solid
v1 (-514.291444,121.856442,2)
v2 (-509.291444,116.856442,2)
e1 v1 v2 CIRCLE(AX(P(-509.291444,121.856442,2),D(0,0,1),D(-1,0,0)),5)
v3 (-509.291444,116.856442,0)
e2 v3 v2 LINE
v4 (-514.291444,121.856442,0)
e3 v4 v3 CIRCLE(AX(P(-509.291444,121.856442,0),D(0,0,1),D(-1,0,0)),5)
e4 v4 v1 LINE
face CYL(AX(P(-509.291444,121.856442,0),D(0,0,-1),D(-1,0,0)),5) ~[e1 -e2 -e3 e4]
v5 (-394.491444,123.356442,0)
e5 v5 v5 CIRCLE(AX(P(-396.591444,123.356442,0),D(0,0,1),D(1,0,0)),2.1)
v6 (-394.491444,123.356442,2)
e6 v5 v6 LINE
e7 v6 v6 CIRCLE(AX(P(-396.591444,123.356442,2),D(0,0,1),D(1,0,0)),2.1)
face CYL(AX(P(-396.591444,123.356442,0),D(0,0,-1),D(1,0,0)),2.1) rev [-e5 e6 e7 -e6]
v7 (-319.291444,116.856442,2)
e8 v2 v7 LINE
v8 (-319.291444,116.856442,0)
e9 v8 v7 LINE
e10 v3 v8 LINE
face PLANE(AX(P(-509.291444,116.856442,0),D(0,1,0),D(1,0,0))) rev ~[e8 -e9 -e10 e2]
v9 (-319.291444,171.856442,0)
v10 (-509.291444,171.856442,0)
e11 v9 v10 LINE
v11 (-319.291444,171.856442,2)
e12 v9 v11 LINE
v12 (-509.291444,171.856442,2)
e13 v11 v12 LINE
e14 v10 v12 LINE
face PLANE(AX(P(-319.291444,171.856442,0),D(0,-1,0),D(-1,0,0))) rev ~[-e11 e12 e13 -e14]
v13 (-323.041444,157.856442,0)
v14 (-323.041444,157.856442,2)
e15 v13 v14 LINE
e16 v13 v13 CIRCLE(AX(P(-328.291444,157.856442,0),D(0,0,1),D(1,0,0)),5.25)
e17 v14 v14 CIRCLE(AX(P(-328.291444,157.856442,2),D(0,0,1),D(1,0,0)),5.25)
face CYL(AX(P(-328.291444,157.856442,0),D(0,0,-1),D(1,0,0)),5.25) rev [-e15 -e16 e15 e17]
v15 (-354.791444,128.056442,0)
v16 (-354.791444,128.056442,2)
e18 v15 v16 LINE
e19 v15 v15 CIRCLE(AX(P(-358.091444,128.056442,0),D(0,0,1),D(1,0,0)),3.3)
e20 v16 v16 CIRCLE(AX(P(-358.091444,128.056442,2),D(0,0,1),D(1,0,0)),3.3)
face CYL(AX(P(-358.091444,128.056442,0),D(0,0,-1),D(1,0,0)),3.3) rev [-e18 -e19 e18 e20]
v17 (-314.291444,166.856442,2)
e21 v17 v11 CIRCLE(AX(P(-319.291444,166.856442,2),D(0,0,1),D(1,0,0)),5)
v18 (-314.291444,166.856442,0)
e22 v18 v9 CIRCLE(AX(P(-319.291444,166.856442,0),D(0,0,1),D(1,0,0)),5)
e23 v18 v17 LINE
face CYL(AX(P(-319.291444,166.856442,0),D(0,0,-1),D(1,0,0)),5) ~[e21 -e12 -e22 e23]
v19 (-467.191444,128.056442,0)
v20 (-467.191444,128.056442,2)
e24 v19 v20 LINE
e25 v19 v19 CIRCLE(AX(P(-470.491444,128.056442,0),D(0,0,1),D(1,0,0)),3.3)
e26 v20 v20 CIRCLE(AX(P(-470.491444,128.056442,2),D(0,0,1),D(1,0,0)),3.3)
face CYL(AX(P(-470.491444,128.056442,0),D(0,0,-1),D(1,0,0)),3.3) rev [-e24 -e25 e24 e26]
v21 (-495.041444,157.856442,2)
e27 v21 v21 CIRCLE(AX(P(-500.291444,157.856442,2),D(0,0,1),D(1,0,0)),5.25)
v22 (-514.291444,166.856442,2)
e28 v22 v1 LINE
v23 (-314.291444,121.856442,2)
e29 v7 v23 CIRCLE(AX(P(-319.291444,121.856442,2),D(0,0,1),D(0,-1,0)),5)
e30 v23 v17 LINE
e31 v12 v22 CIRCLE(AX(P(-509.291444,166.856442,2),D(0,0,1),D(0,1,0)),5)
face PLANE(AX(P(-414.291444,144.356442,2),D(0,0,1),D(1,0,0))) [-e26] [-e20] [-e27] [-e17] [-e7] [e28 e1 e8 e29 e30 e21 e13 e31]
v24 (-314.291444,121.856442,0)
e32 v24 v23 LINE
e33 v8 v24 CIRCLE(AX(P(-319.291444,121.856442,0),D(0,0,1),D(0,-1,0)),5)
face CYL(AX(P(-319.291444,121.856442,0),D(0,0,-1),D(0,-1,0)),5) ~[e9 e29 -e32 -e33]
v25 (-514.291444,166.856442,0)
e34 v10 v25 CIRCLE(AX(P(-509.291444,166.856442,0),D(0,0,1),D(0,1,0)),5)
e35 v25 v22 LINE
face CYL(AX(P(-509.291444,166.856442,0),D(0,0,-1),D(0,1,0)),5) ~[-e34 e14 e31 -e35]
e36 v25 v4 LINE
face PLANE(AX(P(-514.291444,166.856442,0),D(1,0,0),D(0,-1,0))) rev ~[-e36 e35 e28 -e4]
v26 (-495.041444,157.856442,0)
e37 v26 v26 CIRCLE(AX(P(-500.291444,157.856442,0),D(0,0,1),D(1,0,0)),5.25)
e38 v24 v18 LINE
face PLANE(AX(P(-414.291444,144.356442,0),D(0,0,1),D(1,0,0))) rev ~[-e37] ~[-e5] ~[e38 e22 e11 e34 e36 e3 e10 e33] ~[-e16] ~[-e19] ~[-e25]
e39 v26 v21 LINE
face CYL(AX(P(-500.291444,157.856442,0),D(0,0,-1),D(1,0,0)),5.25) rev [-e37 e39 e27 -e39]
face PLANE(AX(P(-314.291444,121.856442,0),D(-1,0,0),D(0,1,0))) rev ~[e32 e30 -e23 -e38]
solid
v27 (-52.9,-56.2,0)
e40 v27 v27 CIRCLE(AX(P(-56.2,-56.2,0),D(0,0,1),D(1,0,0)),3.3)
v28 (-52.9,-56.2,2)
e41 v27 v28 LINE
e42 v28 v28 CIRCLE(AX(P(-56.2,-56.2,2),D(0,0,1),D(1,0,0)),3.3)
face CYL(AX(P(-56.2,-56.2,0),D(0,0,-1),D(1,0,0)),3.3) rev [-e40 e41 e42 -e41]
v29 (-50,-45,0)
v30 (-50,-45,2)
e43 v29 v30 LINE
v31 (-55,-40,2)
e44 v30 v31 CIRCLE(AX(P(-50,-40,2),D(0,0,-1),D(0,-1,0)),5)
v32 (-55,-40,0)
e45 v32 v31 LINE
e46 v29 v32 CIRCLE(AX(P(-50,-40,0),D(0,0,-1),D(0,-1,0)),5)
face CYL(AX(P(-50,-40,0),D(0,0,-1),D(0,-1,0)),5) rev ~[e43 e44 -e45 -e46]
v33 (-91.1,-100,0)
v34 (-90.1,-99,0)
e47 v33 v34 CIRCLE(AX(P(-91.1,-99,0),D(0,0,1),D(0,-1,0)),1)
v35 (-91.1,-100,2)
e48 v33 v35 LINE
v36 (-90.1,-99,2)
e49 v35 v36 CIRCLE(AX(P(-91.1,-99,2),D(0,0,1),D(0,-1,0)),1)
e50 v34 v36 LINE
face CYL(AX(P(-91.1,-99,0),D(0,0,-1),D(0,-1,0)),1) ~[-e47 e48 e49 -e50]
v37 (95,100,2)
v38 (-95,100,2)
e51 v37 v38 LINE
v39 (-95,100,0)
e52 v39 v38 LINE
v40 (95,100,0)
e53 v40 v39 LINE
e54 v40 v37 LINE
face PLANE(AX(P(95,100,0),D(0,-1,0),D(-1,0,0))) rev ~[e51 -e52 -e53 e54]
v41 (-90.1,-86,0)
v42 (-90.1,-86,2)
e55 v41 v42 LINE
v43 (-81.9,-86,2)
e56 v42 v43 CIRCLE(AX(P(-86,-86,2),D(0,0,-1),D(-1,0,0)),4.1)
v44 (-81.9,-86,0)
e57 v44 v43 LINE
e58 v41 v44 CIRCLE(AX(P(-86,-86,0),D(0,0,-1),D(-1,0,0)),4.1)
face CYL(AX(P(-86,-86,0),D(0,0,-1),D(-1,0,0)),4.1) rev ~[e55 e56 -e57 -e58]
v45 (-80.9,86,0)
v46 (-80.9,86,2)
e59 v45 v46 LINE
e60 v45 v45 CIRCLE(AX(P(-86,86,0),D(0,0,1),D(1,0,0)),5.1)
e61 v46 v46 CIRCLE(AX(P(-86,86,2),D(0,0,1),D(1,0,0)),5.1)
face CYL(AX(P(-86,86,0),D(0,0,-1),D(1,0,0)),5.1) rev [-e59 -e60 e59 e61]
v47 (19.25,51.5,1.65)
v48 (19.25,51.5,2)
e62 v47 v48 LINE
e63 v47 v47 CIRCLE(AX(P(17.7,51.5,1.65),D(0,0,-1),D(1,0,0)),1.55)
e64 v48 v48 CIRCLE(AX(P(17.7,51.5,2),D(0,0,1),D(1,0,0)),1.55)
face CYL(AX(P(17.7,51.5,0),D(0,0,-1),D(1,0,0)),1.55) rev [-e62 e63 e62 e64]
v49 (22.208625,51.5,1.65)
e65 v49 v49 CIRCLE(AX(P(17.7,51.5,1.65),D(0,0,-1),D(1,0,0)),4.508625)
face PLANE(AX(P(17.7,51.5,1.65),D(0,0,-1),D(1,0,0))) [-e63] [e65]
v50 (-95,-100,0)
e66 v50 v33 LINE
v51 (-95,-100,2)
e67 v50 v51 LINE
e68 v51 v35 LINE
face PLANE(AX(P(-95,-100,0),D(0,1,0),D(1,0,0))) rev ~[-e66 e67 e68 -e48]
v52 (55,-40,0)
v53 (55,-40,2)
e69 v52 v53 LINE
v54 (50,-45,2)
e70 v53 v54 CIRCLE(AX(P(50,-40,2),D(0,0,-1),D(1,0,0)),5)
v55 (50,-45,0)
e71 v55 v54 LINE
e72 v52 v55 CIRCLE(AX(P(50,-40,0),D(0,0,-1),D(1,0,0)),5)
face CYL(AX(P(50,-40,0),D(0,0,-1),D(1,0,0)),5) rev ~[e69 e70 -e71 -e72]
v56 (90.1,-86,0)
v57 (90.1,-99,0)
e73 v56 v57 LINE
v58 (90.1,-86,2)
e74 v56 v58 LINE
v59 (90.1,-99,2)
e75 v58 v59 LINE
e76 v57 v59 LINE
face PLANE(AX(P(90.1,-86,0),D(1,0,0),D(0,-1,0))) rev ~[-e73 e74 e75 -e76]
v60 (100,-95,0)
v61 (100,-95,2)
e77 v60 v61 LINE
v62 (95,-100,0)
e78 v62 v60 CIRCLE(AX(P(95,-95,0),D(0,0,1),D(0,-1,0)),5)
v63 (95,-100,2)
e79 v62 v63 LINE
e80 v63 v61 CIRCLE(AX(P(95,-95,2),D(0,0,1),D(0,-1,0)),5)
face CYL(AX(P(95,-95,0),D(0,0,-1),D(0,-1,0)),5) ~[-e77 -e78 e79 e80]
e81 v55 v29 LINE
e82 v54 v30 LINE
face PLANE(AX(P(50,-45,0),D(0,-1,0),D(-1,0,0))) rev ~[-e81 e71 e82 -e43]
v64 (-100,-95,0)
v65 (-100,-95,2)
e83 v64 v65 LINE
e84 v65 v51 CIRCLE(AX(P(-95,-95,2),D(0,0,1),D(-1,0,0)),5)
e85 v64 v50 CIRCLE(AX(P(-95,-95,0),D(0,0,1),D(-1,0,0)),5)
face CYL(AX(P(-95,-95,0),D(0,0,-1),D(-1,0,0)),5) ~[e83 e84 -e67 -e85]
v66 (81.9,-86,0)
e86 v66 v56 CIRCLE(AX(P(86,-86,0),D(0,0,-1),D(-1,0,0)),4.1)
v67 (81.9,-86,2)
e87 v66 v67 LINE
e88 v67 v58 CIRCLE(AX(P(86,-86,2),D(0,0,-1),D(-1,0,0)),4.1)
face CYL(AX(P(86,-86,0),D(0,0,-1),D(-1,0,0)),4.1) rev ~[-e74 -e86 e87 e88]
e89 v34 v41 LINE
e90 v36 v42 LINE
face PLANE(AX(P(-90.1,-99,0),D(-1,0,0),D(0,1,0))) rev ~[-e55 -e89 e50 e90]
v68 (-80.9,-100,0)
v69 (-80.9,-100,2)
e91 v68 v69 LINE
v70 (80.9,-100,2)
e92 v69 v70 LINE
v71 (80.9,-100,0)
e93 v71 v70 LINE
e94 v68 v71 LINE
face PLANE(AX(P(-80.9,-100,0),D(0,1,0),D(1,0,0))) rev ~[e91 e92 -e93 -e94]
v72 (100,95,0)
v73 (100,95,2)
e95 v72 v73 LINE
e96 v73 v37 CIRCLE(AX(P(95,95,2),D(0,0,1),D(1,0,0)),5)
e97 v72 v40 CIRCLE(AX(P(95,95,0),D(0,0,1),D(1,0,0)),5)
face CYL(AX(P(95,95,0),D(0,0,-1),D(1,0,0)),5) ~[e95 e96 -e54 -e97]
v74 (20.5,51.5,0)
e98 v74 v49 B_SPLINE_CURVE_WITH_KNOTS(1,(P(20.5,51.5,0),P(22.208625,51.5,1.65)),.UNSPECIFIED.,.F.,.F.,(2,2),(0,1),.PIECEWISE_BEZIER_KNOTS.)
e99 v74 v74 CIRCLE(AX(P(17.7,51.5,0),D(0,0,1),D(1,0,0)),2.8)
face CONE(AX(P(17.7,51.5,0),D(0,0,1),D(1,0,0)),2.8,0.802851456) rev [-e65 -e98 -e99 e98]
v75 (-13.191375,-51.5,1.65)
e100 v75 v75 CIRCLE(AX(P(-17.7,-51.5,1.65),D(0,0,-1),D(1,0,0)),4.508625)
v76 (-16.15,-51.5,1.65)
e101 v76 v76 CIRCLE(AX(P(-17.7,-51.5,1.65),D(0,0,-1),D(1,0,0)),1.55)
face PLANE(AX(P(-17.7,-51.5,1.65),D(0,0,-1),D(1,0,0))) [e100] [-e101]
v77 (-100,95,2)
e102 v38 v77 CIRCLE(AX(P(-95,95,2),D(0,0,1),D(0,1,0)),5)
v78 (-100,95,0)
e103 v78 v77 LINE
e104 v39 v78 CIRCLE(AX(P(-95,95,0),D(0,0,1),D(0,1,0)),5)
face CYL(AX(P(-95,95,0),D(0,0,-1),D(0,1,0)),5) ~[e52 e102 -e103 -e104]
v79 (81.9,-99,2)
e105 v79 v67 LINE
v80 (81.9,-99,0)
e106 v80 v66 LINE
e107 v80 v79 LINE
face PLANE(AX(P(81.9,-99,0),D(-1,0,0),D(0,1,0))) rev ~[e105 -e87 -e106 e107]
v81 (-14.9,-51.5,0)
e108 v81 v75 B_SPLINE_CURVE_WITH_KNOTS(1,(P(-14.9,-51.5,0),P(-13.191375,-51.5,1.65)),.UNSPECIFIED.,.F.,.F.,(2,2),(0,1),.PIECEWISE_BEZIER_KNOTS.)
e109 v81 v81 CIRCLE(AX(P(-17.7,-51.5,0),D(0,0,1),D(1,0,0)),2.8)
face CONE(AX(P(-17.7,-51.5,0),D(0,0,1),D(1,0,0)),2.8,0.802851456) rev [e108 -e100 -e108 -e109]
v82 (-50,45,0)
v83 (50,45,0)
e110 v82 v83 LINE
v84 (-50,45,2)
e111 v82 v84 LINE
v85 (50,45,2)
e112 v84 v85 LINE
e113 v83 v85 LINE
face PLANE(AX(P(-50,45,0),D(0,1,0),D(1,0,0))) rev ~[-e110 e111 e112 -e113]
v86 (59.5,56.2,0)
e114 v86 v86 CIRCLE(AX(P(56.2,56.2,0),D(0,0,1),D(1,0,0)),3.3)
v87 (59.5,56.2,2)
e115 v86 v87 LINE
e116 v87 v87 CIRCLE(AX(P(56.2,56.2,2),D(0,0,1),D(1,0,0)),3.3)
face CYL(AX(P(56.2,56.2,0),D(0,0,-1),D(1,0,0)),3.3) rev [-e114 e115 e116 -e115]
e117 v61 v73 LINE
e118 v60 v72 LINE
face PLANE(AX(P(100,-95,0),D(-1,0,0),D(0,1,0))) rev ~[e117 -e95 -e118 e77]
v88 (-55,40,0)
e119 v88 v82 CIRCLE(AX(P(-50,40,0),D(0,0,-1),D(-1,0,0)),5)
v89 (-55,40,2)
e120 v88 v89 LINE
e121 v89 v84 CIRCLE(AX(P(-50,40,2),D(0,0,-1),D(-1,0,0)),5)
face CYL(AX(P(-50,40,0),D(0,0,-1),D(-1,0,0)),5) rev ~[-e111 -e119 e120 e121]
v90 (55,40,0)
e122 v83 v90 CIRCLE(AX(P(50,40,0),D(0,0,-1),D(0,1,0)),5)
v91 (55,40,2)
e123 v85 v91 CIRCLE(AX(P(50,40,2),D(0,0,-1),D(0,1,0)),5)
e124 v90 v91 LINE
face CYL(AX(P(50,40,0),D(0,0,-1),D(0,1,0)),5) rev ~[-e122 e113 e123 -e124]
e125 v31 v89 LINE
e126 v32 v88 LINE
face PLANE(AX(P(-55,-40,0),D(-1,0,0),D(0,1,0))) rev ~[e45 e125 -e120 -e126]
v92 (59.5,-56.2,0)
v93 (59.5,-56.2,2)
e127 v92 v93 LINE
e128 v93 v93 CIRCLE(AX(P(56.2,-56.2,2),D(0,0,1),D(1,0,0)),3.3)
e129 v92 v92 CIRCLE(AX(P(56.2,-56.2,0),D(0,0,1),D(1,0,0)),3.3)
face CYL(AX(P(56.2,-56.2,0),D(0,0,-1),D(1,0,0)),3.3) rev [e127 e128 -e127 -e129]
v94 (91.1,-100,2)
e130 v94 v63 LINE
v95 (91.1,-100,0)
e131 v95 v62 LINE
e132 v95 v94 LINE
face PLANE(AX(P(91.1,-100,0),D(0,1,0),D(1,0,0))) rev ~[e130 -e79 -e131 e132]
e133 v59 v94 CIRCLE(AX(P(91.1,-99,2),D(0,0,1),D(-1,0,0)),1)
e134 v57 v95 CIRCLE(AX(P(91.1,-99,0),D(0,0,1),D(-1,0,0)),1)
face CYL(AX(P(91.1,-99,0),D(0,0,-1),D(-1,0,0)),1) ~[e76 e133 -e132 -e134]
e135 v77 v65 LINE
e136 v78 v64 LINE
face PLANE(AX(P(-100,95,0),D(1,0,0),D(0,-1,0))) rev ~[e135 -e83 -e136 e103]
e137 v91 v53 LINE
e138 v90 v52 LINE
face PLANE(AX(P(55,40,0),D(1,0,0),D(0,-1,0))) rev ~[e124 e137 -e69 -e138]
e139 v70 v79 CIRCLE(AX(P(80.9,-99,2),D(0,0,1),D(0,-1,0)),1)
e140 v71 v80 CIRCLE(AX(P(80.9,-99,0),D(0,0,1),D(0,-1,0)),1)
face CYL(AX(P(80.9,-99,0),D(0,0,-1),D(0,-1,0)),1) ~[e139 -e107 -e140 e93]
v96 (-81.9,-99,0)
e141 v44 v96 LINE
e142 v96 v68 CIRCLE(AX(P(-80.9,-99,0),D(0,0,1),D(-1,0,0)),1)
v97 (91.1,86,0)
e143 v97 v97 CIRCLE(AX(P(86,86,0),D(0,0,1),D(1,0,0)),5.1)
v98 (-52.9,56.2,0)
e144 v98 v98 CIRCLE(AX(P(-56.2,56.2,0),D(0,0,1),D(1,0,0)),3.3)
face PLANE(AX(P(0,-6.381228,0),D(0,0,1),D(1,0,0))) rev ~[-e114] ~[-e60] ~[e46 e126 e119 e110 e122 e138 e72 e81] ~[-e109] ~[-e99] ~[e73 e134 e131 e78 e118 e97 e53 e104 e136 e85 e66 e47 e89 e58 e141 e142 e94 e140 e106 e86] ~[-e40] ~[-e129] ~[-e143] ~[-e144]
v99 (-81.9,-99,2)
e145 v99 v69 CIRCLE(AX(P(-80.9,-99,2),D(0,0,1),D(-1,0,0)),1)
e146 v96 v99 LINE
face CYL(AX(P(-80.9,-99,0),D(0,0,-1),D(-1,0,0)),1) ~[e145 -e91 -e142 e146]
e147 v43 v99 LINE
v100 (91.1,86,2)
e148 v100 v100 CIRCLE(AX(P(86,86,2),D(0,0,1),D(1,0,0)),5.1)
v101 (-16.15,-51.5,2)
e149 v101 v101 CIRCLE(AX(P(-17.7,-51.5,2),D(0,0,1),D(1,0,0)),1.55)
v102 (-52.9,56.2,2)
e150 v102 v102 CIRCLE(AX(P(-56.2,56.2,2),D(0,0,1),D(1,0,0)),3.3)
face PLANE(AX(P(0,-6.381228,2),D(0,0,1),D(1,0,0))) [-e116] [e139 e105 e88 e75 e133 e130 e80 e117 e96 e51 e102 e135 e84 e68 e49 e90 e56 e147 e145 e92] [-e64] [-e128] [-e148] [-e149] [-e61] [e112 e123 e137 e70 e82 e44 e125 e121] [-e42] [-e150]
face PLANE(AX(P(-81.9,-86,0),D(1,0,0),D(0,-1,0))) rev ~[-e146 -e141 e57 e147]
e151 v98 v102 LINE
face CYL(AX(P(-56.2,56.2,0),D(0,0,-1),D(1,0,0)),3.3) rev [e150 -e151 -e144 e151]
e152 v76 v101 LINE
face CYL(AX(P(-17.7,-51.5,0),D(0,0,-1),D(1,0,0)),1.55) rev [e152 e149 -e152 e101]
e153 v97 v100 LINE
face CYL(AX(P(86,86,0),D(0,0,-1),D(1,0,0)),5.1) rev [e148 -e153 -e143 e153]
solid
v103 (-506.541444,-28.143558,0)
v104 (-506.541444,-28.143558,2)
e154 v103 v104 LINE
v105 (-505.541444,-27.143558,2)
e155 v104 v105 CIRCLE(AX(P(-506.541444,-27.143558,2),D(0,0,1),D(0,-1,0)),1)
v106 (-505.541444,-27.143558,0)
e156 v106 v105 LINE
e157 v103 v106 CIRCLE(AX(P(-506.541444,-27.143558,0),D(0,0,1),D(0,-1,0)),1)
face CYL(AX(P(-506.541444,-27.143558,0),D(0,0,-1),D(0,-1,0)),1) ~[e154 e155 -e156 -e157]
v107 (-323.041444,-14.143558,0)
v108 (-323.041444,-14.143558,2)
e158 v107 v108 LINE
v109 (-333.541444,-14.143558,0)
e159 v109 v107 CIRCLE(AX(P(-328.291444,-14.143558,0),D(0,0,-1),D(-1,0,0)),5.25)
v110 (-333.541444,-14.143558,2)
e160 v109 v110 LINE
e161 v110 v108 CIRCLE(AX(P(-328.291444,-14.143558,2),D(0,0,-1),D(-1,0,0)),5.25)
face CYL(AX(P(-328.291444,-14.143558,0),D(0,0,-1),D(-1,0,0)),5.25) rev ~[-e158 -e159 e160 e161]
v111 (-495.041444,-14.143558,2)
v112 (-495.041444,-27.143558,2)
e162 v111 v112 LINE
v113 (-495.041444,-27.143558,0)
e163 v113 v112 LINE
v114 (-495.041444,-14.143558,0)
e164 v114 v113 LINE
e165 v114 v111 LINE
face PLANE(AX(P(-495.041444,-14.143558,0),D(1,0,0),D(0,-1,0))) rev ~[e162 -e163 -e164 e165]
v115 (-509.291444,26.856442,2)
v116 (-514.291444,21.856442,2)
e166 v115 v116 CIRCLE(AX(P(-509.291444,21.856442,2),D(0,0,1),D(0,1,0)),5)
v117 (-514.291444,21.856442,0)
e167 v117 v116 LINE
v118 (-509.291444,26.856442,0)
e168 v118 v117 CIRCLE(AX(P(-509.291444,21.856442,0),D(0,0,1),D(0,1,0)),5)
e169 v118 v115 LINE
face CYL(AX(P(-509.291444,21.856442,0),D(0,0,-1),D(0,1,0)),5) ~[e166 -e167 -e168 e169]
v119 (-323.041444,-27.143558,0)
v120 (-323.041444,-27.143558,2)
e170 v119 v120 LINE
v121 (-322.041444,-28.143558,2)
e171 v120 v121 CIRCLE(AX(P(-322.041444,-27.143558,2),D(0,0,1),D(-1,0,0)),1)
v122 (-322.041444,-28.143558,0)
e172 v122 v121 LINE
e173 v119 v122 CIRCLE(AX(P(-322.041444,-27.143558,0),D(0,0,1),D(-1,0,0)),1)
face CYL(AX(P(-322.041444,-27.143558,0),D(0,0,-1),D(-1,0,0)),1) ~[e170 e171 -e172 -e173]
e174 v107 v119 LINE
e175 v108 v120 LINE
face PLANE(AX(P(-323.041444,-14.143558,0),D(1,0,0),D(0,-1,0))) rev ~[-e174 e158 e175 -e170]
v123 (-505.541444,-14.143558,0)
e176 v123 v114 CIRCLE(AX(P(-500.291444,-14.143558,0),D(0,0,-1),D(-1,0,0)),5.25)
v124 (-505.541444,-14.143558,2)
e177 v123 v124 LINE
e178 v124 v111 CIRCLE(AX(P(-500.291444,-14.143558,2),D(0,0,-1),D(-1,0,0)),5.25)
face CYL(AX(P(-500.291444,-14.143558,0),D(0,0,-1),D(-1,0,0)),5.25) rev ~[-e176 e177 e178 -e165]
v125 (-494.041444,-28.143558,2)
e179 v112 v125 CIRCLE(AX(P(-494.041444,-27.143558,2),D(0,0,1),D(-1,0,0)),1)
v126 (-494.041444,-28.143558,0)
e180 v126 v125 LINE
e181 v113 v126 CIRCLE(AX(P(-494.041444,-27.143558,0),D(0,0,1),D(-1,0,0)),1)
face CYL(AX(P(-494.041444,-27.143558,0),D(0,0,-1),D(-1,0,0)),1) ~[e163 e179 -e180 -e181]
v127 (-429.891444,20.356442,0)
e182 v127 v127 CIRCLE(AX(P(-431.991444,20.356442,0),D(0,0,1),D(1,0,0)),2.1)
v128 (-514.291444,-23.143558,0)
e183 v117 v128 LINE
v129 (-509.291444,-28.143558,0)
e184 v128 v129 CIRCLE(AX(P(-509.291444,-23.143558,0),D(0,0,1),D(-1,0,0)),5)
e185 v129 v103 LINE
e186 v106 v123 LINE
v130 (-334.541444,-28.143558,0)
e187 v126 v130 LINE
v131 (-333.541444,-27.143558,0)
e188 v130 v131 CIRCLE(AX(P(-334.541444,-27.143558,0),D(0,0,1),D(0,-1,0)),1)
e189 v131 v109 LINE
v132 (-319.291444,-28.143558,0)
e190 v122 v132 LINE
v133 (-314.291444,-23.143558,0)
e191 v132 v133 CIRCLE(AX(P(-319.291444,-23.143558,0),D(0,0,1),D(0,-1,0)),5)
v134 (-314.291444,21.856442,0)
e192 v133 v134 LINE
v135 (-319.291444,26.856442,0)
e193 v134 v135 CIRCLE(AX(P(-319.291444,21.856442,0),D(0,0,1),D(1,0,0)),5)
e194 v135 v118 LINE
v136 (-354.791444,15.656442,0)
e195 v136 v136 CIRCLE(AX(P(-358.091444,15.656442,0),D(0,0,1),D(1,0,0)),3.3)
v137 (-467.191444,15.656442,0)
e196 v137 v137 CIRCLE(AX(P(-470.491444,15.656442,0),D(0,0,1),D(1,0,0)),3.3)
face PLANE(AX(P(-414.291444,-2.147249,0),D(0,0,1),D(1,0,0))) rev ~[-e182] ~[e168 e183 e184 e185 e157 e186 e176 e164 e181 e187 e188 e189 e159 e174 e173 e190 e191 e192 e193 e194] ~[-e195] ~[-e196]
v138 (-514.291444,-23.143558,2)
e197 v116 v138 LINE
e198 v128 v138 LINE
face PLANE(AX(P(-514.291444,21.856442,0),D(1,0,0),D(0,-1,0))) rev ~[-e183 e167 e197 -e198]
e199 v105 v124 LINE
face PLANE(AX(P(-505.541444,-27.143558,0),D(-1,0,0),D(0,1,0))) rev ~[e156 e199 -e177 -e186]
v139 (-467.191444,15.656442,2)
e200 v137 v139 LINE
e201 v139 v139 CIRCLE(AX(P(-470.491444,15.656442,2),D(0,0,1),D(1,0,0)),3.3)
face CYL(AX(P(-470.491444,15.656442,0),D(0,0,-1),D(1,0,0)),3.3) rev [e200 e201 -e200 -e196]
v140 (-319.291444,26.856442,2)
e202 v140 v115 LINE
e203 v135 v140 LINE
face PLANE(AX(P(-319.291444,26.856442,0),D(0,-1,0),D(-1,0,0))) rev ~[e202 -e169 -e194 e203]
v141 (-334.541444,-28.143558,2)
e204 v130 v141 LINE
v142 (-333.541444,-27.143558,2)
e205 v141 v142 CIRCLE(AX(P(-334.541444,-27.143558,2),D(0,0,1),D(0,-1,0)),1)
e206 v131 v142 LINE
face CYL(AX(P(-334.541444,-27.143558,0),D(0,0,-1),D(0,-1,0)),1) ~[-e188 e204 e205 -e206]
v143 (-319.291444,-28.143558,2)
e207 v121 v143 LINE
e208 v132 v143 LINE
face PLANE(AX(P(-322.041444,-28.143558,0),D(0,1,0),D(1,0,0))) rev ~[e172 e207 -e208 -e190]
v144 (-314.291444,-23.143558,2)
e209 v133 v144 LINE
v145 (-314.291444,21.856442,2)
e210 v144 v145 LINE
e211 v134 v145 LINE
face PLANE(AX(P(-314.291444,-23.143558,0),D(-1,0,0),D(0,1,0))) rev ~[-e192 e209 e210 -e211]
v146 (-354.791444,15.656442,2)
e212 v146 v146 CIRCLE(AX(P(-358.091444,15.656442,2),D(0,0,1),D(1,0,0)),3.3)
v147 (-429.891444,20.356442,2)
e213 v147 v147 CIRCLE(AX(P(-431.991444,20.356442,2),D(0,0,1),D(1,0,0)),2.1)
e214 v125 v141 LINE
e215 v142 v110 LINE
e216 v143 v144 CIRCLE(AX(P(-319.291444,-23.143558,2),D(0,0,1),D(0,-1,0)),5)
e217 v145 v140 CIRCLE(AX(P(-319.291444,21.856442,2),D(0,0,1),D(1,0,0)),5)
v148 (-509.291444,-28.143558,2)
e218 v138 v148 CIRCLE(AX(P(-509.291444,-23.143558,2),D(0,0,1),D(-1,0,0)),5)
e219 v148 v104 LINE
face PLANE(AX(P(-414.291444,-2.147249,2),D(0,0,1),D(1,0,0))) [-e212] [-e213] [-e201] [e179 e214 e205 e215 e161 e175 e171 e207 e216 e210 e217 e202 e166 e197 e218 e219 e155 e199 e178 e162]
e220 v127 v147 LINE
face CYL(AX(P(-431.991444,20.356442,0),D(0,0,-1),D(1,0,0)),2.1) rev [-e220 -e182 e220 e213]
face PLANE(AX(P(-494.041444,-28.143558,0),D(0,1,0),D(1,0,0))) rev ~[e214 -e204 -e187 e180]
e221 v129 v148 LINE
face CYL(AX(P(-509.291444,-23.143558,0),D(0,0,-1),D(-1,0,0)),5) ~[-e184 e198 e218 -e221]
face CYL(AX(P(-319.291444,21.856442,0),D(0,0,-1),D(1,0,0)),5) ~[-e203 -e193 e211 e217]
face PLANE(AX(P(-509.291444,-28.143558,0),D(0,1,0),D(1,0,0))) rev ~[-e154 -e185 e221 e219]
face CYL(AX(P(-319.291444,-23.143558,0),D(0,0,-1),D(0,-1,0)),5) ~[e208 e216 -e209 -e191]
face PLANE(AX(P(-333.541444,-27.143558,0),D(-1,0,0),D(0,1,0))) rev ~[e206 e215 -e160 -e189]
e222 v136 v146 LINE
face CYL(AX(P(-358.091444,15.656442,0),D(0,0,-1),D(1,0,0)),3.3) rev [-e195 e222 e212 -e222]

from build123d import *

# Parameters (mm, degrees)
F0_R     = 3.3
F0_R_2   = 1.55
F0_R_3   = 5.1
F1_DEPTH = 2
F0_R_4   = 2.1
F0_R_5   = 5.25
F2_R     = 2.8
F3_DEPTH = 1.65
F3_TAPER = -46


with BuildPart() as f1:
    # F0 (on Top) → F1 (new body)
    with BuildSketch(Plane.XY):
        with BuildLine():
            ThreePointArc((-100, -95), (-98.5355339059, -98.5355339059), (-95, -100))
            Line((-95, -100), (-91.1, -100))
            ThreePointArc((-91.1, -100), (-90.3928932188, -99.7071067812), (-90.1, -99))
            Line((-90.1, -99), (-90.1, -86))
            ThreePointArc((-90.1, -86), (-86, -81.9), (-81.9, -86))
            Line((-81.9, -86), (-81.9, -99))
            ThreePointArc((-81.9, -99), (-81.6071067812, -99.7071067812), (-80.9, -100))
            Line((-80.9, -100), (80.9, -100))
            ThreePointArc((80.9, -100), (81.6071067812, -99.7071067812), (81.9, -99))
            Line((81.9, -99), (81.9, -86))
            ThreePointArc((81.9, -86), (86, -81.9), (90.1, -86))
            Line((90.1, -86), (90.1, -99))
            ThreePointArc((90.1, -99), (90.3928932188, -99.7071067812), (91.1, -100))
            Line((91.1, -100), (95, -100))
            ThreePointArc((95, -100), (98.5355339059, -98.5355339059), (100, -95))
            Line((100, -95), (100, 95))
            ThreePointArc((100, 95), (98.5355339059, 98.5355339059), (95, 100))
            Line((95, 100), (-95, 100))
            ThreePointArc((-95, 100), (-98.5355339059, 98.5355339059), (-100, 95))
            Line((-100, 95), (-100, -95))
        make_face()
        with Locations((-56.2, -56.2)):
            Circle(F0_R, mode=Mode.SUBTRACT)
        with Locations((-17.7, -51.5)):
            Circle(F0_R_2, mode=Mode.SUBTRACT)
        with Locations((56.2, -56.2)):
            Circle(F0_R, mode=Mode.SUBTRACT)
        with BuildLine():
            Line((50, -45), (-50, -45))
            ThreePointArc((-50, -45), (-53.5355339059, -43.5355339059), (-55, -40))
            Line((-55, -40), (-55, 40))
            ThreePointArc((-55, 40), (-53.5355339059, 43.5355339059), (-50, 45))
            Line((-50, 45), (50, 45))
            ThreePointArc((50, 45), (53.5355339059, 43.5355339059), (55, 40))
            Line((55, 40), (55, -40))
            ThreePointArc((55, -40), (53.5355339059, -43.5355339059), (50, -45))
        make_face(mode=Mode.SUBTRACT)
        with Locations((-56.2, 56.2)):
            Circle(F0_R, mode=Mode.SUBTRACT)
        with Locations((-86, 86)):
            Circle(F0_R_3, mode=Mode.SUBTRACT)
        with Locations((17.7, 51.5)):
            Circle(F0_R_2, mode=Mode.SUBTRACT)
        with Locations((56.2, 56.2)):
            Circle(F0_R, mode=Mode.SUBTRACT)
        with Locations((86, 86)):
            Circle(F0_R_3, mode=Mode.SUBTRACT)
    extrude(amount=F1_DEPTH)

    # F2 (on face) → F3 (cut)
    with BuildSketch(Plane(origin=(0, 0, 0), x_dir=(1, 0, 0), z_dir=(0, 0, -1))):
        with Locations((17.7, -51.5)):
            Circle(F2_R)
        with Locations((-17.7, 51.5)):
            Circle(F2_R)
    extrude(amount=-F3_DEPTH, taper=F3_TAPER, mode=Mode.SUBTRACT)


with BuildPart() as f1b:
    # F0 (on Top) → F1, piece 2 (new body)
    with BuildSketch(Plane.XY):
        with BuildLine():
            ThreePointArc((-514.2914436857, -23.1435575097), (-512.8269775916, -26.6790914156), (-509.2914436857, -28.1435575097))
            Line((-509.2914436857, -28.1435575097), (-506.5414436857, -28.1435575097))
            ThreePointArc((-506.5414436857, -28.1435575097), (-505.8343369045, -27.8506642909), (-505.5414436857, -27.1435575097))
            Line((-505.5414436857, -27.1435575097), (-505.5414436857, -14.1435575097))
            ThreePointArc((-505.5414436857, -14.1435575097), (-500.2914436857, -8.8935575097), (-495.0414436857, -14.1435575097))
            Line((-495.0414436857, -14.1435575097), (-495.0414436857, -27.1435575097))
            ThreePointArc((-495.0414436857, -27.1435575097), (-494.7485504669, -27.8506642909), (-494.0414436857, -28.1435575097))
            Line((-494.0414436857, -28.1435575097), (-334.5414436857, -28.1435575097))
            ThreePointArc((-334.5414436857, -28.1435575097), (-333.8343369045, -27.8506642909), (-333.5414436857, -27.1435575097))
            Line((-333.5414436857, -27.1435575097), (-333.5414436857, -14.1435575097))
            ThreePointArc((-333.5414436857, -14.1435575097), (-328.2914436857, -8.8935575097), (-323.0414436857, -14.1435575097))
            Line((-323.0414436857, -14.1435575097), (-323.0414436857, -27.1435575097))
            ThreePointArc((-323.0414436857, -27.1435575097), (-322.7485504669, -27.8506642909), (-322.0414436857, -28.1435575097))
            Line((-322.0414436857, -28.1435575097), (-319.2914436857, -28.1435575097))
            ThreePointArc((-319.2914436857, -28.1435575097), (-315.7559097797, -26.6790914156), (-314.2914436857, -23.1435575097))
            Line((-314.2914436857, -23.1435575097), (-314.2914436857, 21.8564424903))
            ThreePointArc((-314.2914436857, 21.8564424903), (-315.7559097797, 25.3919763962), (-319.2914436857, 26.8564424903))
            Line((-319.2914436857, 26.8564424903), (-364.2914436857, 26.8564424903))
            Line((-364.2914436857, 26.8564424903), (-464.2914436857, 26.8564424903))
            Line((-464.2914436857, 26.8564424903), (-509.2914436857, 26.8564424903))
            ThreePointArc((-509.2914436857, 26.8564424903), (-512.8269775916, 25.3919763962), (-514.2914436857, 21.8564424903))
            Line((-514.2914436857, 21.8564424903), (-514.2914436857, -23.1435575097))
        make_face()
        with Locations((-470.4914436857, 15.6564424903)):
            Circle(F0_R, mode=Mode.SUBTRACT)
        with Locations((-431.9914436857, 20.3564424903)):
            Circle(F0_R_4, mode=Mode.SUBTRACT)
        with Locations((-358.0914436857, 15.6564424903)):
            Circle(F0_R, mode=Mode.SUBTRACT)
    extrude(amount=F1_DEPTH)


with BuildPart() as f1c:
    # F0 (on Top) → F1, piece 3 (new body)
    with BuildSketch(Plane.XY):
        with BuildLine():
            Line((-319.2914436857, 171.8564424903), (-509.2914436857, 171.8564424903))
            ThreePointArc((-509.2914436857, 171.8564424903), (-512.8269775916, 170.3919763962), (-514.2914436857, 166.8564424903))
            Line((-514.2914436857, 166.8564424903), (-514.2914436857, 121.8564424903))
            ThreePointArc((-514.2914436857, 121.8564424903), (-512.8269775916, 118.3209085844), (-509.2914436857, 116.8564424903))
            Line((-509.2914436857, 116.8564424903), (-464.2914436857, 116.8564424903))
            Line((-464.2914436857, 116.8564424903), (-364.2914436857, 116.8564424903))
            Line((-364.2914436857, 116.8564424903), (-319.2914436857, 116.8564424903))
            ThreePointArc((-319.2914436857, 116.8564424903), (-315.7559097797, 118.3209085844), (-314.2914436857, 121.8564424903))
            Line((-314.2914436857, 121.8564424903), (-314.2914436857, 166.8564424903))
            ThreePointArc((-314.2914436857, 166.8564424903), (-315.7559097797, 170.3919763962), (-319.2914436857, 171.8564424903))
        make_face()
        with Locations((-470.4914436857, 128.0564424903)):
            Circle(F0_R, mode=Mode.SUBTRACT)
        with Locations((-396.5914436857, 123.3564424903)):
            Circle(F0_R_4, mode=Mode.SUBTRACT)
        with Locations((-500.2914436857, 157.8564424903)):
            Circle(F0_R_5, mode=Mode.SUBTRACT)
        with Locations((-358.0914436857, 128.0564424903)):
            Circle(F0_R, mode=Mode.SUBTRACT)
        with Locations((-328.2914436857, 157.8564424903)):
            Circle(F0_R_5, mode=Mode.SUBTRACT)
    extrude(amount=F1_DEPTH)


solid = Compound([f1.part, f1b.part, f1c.part])
